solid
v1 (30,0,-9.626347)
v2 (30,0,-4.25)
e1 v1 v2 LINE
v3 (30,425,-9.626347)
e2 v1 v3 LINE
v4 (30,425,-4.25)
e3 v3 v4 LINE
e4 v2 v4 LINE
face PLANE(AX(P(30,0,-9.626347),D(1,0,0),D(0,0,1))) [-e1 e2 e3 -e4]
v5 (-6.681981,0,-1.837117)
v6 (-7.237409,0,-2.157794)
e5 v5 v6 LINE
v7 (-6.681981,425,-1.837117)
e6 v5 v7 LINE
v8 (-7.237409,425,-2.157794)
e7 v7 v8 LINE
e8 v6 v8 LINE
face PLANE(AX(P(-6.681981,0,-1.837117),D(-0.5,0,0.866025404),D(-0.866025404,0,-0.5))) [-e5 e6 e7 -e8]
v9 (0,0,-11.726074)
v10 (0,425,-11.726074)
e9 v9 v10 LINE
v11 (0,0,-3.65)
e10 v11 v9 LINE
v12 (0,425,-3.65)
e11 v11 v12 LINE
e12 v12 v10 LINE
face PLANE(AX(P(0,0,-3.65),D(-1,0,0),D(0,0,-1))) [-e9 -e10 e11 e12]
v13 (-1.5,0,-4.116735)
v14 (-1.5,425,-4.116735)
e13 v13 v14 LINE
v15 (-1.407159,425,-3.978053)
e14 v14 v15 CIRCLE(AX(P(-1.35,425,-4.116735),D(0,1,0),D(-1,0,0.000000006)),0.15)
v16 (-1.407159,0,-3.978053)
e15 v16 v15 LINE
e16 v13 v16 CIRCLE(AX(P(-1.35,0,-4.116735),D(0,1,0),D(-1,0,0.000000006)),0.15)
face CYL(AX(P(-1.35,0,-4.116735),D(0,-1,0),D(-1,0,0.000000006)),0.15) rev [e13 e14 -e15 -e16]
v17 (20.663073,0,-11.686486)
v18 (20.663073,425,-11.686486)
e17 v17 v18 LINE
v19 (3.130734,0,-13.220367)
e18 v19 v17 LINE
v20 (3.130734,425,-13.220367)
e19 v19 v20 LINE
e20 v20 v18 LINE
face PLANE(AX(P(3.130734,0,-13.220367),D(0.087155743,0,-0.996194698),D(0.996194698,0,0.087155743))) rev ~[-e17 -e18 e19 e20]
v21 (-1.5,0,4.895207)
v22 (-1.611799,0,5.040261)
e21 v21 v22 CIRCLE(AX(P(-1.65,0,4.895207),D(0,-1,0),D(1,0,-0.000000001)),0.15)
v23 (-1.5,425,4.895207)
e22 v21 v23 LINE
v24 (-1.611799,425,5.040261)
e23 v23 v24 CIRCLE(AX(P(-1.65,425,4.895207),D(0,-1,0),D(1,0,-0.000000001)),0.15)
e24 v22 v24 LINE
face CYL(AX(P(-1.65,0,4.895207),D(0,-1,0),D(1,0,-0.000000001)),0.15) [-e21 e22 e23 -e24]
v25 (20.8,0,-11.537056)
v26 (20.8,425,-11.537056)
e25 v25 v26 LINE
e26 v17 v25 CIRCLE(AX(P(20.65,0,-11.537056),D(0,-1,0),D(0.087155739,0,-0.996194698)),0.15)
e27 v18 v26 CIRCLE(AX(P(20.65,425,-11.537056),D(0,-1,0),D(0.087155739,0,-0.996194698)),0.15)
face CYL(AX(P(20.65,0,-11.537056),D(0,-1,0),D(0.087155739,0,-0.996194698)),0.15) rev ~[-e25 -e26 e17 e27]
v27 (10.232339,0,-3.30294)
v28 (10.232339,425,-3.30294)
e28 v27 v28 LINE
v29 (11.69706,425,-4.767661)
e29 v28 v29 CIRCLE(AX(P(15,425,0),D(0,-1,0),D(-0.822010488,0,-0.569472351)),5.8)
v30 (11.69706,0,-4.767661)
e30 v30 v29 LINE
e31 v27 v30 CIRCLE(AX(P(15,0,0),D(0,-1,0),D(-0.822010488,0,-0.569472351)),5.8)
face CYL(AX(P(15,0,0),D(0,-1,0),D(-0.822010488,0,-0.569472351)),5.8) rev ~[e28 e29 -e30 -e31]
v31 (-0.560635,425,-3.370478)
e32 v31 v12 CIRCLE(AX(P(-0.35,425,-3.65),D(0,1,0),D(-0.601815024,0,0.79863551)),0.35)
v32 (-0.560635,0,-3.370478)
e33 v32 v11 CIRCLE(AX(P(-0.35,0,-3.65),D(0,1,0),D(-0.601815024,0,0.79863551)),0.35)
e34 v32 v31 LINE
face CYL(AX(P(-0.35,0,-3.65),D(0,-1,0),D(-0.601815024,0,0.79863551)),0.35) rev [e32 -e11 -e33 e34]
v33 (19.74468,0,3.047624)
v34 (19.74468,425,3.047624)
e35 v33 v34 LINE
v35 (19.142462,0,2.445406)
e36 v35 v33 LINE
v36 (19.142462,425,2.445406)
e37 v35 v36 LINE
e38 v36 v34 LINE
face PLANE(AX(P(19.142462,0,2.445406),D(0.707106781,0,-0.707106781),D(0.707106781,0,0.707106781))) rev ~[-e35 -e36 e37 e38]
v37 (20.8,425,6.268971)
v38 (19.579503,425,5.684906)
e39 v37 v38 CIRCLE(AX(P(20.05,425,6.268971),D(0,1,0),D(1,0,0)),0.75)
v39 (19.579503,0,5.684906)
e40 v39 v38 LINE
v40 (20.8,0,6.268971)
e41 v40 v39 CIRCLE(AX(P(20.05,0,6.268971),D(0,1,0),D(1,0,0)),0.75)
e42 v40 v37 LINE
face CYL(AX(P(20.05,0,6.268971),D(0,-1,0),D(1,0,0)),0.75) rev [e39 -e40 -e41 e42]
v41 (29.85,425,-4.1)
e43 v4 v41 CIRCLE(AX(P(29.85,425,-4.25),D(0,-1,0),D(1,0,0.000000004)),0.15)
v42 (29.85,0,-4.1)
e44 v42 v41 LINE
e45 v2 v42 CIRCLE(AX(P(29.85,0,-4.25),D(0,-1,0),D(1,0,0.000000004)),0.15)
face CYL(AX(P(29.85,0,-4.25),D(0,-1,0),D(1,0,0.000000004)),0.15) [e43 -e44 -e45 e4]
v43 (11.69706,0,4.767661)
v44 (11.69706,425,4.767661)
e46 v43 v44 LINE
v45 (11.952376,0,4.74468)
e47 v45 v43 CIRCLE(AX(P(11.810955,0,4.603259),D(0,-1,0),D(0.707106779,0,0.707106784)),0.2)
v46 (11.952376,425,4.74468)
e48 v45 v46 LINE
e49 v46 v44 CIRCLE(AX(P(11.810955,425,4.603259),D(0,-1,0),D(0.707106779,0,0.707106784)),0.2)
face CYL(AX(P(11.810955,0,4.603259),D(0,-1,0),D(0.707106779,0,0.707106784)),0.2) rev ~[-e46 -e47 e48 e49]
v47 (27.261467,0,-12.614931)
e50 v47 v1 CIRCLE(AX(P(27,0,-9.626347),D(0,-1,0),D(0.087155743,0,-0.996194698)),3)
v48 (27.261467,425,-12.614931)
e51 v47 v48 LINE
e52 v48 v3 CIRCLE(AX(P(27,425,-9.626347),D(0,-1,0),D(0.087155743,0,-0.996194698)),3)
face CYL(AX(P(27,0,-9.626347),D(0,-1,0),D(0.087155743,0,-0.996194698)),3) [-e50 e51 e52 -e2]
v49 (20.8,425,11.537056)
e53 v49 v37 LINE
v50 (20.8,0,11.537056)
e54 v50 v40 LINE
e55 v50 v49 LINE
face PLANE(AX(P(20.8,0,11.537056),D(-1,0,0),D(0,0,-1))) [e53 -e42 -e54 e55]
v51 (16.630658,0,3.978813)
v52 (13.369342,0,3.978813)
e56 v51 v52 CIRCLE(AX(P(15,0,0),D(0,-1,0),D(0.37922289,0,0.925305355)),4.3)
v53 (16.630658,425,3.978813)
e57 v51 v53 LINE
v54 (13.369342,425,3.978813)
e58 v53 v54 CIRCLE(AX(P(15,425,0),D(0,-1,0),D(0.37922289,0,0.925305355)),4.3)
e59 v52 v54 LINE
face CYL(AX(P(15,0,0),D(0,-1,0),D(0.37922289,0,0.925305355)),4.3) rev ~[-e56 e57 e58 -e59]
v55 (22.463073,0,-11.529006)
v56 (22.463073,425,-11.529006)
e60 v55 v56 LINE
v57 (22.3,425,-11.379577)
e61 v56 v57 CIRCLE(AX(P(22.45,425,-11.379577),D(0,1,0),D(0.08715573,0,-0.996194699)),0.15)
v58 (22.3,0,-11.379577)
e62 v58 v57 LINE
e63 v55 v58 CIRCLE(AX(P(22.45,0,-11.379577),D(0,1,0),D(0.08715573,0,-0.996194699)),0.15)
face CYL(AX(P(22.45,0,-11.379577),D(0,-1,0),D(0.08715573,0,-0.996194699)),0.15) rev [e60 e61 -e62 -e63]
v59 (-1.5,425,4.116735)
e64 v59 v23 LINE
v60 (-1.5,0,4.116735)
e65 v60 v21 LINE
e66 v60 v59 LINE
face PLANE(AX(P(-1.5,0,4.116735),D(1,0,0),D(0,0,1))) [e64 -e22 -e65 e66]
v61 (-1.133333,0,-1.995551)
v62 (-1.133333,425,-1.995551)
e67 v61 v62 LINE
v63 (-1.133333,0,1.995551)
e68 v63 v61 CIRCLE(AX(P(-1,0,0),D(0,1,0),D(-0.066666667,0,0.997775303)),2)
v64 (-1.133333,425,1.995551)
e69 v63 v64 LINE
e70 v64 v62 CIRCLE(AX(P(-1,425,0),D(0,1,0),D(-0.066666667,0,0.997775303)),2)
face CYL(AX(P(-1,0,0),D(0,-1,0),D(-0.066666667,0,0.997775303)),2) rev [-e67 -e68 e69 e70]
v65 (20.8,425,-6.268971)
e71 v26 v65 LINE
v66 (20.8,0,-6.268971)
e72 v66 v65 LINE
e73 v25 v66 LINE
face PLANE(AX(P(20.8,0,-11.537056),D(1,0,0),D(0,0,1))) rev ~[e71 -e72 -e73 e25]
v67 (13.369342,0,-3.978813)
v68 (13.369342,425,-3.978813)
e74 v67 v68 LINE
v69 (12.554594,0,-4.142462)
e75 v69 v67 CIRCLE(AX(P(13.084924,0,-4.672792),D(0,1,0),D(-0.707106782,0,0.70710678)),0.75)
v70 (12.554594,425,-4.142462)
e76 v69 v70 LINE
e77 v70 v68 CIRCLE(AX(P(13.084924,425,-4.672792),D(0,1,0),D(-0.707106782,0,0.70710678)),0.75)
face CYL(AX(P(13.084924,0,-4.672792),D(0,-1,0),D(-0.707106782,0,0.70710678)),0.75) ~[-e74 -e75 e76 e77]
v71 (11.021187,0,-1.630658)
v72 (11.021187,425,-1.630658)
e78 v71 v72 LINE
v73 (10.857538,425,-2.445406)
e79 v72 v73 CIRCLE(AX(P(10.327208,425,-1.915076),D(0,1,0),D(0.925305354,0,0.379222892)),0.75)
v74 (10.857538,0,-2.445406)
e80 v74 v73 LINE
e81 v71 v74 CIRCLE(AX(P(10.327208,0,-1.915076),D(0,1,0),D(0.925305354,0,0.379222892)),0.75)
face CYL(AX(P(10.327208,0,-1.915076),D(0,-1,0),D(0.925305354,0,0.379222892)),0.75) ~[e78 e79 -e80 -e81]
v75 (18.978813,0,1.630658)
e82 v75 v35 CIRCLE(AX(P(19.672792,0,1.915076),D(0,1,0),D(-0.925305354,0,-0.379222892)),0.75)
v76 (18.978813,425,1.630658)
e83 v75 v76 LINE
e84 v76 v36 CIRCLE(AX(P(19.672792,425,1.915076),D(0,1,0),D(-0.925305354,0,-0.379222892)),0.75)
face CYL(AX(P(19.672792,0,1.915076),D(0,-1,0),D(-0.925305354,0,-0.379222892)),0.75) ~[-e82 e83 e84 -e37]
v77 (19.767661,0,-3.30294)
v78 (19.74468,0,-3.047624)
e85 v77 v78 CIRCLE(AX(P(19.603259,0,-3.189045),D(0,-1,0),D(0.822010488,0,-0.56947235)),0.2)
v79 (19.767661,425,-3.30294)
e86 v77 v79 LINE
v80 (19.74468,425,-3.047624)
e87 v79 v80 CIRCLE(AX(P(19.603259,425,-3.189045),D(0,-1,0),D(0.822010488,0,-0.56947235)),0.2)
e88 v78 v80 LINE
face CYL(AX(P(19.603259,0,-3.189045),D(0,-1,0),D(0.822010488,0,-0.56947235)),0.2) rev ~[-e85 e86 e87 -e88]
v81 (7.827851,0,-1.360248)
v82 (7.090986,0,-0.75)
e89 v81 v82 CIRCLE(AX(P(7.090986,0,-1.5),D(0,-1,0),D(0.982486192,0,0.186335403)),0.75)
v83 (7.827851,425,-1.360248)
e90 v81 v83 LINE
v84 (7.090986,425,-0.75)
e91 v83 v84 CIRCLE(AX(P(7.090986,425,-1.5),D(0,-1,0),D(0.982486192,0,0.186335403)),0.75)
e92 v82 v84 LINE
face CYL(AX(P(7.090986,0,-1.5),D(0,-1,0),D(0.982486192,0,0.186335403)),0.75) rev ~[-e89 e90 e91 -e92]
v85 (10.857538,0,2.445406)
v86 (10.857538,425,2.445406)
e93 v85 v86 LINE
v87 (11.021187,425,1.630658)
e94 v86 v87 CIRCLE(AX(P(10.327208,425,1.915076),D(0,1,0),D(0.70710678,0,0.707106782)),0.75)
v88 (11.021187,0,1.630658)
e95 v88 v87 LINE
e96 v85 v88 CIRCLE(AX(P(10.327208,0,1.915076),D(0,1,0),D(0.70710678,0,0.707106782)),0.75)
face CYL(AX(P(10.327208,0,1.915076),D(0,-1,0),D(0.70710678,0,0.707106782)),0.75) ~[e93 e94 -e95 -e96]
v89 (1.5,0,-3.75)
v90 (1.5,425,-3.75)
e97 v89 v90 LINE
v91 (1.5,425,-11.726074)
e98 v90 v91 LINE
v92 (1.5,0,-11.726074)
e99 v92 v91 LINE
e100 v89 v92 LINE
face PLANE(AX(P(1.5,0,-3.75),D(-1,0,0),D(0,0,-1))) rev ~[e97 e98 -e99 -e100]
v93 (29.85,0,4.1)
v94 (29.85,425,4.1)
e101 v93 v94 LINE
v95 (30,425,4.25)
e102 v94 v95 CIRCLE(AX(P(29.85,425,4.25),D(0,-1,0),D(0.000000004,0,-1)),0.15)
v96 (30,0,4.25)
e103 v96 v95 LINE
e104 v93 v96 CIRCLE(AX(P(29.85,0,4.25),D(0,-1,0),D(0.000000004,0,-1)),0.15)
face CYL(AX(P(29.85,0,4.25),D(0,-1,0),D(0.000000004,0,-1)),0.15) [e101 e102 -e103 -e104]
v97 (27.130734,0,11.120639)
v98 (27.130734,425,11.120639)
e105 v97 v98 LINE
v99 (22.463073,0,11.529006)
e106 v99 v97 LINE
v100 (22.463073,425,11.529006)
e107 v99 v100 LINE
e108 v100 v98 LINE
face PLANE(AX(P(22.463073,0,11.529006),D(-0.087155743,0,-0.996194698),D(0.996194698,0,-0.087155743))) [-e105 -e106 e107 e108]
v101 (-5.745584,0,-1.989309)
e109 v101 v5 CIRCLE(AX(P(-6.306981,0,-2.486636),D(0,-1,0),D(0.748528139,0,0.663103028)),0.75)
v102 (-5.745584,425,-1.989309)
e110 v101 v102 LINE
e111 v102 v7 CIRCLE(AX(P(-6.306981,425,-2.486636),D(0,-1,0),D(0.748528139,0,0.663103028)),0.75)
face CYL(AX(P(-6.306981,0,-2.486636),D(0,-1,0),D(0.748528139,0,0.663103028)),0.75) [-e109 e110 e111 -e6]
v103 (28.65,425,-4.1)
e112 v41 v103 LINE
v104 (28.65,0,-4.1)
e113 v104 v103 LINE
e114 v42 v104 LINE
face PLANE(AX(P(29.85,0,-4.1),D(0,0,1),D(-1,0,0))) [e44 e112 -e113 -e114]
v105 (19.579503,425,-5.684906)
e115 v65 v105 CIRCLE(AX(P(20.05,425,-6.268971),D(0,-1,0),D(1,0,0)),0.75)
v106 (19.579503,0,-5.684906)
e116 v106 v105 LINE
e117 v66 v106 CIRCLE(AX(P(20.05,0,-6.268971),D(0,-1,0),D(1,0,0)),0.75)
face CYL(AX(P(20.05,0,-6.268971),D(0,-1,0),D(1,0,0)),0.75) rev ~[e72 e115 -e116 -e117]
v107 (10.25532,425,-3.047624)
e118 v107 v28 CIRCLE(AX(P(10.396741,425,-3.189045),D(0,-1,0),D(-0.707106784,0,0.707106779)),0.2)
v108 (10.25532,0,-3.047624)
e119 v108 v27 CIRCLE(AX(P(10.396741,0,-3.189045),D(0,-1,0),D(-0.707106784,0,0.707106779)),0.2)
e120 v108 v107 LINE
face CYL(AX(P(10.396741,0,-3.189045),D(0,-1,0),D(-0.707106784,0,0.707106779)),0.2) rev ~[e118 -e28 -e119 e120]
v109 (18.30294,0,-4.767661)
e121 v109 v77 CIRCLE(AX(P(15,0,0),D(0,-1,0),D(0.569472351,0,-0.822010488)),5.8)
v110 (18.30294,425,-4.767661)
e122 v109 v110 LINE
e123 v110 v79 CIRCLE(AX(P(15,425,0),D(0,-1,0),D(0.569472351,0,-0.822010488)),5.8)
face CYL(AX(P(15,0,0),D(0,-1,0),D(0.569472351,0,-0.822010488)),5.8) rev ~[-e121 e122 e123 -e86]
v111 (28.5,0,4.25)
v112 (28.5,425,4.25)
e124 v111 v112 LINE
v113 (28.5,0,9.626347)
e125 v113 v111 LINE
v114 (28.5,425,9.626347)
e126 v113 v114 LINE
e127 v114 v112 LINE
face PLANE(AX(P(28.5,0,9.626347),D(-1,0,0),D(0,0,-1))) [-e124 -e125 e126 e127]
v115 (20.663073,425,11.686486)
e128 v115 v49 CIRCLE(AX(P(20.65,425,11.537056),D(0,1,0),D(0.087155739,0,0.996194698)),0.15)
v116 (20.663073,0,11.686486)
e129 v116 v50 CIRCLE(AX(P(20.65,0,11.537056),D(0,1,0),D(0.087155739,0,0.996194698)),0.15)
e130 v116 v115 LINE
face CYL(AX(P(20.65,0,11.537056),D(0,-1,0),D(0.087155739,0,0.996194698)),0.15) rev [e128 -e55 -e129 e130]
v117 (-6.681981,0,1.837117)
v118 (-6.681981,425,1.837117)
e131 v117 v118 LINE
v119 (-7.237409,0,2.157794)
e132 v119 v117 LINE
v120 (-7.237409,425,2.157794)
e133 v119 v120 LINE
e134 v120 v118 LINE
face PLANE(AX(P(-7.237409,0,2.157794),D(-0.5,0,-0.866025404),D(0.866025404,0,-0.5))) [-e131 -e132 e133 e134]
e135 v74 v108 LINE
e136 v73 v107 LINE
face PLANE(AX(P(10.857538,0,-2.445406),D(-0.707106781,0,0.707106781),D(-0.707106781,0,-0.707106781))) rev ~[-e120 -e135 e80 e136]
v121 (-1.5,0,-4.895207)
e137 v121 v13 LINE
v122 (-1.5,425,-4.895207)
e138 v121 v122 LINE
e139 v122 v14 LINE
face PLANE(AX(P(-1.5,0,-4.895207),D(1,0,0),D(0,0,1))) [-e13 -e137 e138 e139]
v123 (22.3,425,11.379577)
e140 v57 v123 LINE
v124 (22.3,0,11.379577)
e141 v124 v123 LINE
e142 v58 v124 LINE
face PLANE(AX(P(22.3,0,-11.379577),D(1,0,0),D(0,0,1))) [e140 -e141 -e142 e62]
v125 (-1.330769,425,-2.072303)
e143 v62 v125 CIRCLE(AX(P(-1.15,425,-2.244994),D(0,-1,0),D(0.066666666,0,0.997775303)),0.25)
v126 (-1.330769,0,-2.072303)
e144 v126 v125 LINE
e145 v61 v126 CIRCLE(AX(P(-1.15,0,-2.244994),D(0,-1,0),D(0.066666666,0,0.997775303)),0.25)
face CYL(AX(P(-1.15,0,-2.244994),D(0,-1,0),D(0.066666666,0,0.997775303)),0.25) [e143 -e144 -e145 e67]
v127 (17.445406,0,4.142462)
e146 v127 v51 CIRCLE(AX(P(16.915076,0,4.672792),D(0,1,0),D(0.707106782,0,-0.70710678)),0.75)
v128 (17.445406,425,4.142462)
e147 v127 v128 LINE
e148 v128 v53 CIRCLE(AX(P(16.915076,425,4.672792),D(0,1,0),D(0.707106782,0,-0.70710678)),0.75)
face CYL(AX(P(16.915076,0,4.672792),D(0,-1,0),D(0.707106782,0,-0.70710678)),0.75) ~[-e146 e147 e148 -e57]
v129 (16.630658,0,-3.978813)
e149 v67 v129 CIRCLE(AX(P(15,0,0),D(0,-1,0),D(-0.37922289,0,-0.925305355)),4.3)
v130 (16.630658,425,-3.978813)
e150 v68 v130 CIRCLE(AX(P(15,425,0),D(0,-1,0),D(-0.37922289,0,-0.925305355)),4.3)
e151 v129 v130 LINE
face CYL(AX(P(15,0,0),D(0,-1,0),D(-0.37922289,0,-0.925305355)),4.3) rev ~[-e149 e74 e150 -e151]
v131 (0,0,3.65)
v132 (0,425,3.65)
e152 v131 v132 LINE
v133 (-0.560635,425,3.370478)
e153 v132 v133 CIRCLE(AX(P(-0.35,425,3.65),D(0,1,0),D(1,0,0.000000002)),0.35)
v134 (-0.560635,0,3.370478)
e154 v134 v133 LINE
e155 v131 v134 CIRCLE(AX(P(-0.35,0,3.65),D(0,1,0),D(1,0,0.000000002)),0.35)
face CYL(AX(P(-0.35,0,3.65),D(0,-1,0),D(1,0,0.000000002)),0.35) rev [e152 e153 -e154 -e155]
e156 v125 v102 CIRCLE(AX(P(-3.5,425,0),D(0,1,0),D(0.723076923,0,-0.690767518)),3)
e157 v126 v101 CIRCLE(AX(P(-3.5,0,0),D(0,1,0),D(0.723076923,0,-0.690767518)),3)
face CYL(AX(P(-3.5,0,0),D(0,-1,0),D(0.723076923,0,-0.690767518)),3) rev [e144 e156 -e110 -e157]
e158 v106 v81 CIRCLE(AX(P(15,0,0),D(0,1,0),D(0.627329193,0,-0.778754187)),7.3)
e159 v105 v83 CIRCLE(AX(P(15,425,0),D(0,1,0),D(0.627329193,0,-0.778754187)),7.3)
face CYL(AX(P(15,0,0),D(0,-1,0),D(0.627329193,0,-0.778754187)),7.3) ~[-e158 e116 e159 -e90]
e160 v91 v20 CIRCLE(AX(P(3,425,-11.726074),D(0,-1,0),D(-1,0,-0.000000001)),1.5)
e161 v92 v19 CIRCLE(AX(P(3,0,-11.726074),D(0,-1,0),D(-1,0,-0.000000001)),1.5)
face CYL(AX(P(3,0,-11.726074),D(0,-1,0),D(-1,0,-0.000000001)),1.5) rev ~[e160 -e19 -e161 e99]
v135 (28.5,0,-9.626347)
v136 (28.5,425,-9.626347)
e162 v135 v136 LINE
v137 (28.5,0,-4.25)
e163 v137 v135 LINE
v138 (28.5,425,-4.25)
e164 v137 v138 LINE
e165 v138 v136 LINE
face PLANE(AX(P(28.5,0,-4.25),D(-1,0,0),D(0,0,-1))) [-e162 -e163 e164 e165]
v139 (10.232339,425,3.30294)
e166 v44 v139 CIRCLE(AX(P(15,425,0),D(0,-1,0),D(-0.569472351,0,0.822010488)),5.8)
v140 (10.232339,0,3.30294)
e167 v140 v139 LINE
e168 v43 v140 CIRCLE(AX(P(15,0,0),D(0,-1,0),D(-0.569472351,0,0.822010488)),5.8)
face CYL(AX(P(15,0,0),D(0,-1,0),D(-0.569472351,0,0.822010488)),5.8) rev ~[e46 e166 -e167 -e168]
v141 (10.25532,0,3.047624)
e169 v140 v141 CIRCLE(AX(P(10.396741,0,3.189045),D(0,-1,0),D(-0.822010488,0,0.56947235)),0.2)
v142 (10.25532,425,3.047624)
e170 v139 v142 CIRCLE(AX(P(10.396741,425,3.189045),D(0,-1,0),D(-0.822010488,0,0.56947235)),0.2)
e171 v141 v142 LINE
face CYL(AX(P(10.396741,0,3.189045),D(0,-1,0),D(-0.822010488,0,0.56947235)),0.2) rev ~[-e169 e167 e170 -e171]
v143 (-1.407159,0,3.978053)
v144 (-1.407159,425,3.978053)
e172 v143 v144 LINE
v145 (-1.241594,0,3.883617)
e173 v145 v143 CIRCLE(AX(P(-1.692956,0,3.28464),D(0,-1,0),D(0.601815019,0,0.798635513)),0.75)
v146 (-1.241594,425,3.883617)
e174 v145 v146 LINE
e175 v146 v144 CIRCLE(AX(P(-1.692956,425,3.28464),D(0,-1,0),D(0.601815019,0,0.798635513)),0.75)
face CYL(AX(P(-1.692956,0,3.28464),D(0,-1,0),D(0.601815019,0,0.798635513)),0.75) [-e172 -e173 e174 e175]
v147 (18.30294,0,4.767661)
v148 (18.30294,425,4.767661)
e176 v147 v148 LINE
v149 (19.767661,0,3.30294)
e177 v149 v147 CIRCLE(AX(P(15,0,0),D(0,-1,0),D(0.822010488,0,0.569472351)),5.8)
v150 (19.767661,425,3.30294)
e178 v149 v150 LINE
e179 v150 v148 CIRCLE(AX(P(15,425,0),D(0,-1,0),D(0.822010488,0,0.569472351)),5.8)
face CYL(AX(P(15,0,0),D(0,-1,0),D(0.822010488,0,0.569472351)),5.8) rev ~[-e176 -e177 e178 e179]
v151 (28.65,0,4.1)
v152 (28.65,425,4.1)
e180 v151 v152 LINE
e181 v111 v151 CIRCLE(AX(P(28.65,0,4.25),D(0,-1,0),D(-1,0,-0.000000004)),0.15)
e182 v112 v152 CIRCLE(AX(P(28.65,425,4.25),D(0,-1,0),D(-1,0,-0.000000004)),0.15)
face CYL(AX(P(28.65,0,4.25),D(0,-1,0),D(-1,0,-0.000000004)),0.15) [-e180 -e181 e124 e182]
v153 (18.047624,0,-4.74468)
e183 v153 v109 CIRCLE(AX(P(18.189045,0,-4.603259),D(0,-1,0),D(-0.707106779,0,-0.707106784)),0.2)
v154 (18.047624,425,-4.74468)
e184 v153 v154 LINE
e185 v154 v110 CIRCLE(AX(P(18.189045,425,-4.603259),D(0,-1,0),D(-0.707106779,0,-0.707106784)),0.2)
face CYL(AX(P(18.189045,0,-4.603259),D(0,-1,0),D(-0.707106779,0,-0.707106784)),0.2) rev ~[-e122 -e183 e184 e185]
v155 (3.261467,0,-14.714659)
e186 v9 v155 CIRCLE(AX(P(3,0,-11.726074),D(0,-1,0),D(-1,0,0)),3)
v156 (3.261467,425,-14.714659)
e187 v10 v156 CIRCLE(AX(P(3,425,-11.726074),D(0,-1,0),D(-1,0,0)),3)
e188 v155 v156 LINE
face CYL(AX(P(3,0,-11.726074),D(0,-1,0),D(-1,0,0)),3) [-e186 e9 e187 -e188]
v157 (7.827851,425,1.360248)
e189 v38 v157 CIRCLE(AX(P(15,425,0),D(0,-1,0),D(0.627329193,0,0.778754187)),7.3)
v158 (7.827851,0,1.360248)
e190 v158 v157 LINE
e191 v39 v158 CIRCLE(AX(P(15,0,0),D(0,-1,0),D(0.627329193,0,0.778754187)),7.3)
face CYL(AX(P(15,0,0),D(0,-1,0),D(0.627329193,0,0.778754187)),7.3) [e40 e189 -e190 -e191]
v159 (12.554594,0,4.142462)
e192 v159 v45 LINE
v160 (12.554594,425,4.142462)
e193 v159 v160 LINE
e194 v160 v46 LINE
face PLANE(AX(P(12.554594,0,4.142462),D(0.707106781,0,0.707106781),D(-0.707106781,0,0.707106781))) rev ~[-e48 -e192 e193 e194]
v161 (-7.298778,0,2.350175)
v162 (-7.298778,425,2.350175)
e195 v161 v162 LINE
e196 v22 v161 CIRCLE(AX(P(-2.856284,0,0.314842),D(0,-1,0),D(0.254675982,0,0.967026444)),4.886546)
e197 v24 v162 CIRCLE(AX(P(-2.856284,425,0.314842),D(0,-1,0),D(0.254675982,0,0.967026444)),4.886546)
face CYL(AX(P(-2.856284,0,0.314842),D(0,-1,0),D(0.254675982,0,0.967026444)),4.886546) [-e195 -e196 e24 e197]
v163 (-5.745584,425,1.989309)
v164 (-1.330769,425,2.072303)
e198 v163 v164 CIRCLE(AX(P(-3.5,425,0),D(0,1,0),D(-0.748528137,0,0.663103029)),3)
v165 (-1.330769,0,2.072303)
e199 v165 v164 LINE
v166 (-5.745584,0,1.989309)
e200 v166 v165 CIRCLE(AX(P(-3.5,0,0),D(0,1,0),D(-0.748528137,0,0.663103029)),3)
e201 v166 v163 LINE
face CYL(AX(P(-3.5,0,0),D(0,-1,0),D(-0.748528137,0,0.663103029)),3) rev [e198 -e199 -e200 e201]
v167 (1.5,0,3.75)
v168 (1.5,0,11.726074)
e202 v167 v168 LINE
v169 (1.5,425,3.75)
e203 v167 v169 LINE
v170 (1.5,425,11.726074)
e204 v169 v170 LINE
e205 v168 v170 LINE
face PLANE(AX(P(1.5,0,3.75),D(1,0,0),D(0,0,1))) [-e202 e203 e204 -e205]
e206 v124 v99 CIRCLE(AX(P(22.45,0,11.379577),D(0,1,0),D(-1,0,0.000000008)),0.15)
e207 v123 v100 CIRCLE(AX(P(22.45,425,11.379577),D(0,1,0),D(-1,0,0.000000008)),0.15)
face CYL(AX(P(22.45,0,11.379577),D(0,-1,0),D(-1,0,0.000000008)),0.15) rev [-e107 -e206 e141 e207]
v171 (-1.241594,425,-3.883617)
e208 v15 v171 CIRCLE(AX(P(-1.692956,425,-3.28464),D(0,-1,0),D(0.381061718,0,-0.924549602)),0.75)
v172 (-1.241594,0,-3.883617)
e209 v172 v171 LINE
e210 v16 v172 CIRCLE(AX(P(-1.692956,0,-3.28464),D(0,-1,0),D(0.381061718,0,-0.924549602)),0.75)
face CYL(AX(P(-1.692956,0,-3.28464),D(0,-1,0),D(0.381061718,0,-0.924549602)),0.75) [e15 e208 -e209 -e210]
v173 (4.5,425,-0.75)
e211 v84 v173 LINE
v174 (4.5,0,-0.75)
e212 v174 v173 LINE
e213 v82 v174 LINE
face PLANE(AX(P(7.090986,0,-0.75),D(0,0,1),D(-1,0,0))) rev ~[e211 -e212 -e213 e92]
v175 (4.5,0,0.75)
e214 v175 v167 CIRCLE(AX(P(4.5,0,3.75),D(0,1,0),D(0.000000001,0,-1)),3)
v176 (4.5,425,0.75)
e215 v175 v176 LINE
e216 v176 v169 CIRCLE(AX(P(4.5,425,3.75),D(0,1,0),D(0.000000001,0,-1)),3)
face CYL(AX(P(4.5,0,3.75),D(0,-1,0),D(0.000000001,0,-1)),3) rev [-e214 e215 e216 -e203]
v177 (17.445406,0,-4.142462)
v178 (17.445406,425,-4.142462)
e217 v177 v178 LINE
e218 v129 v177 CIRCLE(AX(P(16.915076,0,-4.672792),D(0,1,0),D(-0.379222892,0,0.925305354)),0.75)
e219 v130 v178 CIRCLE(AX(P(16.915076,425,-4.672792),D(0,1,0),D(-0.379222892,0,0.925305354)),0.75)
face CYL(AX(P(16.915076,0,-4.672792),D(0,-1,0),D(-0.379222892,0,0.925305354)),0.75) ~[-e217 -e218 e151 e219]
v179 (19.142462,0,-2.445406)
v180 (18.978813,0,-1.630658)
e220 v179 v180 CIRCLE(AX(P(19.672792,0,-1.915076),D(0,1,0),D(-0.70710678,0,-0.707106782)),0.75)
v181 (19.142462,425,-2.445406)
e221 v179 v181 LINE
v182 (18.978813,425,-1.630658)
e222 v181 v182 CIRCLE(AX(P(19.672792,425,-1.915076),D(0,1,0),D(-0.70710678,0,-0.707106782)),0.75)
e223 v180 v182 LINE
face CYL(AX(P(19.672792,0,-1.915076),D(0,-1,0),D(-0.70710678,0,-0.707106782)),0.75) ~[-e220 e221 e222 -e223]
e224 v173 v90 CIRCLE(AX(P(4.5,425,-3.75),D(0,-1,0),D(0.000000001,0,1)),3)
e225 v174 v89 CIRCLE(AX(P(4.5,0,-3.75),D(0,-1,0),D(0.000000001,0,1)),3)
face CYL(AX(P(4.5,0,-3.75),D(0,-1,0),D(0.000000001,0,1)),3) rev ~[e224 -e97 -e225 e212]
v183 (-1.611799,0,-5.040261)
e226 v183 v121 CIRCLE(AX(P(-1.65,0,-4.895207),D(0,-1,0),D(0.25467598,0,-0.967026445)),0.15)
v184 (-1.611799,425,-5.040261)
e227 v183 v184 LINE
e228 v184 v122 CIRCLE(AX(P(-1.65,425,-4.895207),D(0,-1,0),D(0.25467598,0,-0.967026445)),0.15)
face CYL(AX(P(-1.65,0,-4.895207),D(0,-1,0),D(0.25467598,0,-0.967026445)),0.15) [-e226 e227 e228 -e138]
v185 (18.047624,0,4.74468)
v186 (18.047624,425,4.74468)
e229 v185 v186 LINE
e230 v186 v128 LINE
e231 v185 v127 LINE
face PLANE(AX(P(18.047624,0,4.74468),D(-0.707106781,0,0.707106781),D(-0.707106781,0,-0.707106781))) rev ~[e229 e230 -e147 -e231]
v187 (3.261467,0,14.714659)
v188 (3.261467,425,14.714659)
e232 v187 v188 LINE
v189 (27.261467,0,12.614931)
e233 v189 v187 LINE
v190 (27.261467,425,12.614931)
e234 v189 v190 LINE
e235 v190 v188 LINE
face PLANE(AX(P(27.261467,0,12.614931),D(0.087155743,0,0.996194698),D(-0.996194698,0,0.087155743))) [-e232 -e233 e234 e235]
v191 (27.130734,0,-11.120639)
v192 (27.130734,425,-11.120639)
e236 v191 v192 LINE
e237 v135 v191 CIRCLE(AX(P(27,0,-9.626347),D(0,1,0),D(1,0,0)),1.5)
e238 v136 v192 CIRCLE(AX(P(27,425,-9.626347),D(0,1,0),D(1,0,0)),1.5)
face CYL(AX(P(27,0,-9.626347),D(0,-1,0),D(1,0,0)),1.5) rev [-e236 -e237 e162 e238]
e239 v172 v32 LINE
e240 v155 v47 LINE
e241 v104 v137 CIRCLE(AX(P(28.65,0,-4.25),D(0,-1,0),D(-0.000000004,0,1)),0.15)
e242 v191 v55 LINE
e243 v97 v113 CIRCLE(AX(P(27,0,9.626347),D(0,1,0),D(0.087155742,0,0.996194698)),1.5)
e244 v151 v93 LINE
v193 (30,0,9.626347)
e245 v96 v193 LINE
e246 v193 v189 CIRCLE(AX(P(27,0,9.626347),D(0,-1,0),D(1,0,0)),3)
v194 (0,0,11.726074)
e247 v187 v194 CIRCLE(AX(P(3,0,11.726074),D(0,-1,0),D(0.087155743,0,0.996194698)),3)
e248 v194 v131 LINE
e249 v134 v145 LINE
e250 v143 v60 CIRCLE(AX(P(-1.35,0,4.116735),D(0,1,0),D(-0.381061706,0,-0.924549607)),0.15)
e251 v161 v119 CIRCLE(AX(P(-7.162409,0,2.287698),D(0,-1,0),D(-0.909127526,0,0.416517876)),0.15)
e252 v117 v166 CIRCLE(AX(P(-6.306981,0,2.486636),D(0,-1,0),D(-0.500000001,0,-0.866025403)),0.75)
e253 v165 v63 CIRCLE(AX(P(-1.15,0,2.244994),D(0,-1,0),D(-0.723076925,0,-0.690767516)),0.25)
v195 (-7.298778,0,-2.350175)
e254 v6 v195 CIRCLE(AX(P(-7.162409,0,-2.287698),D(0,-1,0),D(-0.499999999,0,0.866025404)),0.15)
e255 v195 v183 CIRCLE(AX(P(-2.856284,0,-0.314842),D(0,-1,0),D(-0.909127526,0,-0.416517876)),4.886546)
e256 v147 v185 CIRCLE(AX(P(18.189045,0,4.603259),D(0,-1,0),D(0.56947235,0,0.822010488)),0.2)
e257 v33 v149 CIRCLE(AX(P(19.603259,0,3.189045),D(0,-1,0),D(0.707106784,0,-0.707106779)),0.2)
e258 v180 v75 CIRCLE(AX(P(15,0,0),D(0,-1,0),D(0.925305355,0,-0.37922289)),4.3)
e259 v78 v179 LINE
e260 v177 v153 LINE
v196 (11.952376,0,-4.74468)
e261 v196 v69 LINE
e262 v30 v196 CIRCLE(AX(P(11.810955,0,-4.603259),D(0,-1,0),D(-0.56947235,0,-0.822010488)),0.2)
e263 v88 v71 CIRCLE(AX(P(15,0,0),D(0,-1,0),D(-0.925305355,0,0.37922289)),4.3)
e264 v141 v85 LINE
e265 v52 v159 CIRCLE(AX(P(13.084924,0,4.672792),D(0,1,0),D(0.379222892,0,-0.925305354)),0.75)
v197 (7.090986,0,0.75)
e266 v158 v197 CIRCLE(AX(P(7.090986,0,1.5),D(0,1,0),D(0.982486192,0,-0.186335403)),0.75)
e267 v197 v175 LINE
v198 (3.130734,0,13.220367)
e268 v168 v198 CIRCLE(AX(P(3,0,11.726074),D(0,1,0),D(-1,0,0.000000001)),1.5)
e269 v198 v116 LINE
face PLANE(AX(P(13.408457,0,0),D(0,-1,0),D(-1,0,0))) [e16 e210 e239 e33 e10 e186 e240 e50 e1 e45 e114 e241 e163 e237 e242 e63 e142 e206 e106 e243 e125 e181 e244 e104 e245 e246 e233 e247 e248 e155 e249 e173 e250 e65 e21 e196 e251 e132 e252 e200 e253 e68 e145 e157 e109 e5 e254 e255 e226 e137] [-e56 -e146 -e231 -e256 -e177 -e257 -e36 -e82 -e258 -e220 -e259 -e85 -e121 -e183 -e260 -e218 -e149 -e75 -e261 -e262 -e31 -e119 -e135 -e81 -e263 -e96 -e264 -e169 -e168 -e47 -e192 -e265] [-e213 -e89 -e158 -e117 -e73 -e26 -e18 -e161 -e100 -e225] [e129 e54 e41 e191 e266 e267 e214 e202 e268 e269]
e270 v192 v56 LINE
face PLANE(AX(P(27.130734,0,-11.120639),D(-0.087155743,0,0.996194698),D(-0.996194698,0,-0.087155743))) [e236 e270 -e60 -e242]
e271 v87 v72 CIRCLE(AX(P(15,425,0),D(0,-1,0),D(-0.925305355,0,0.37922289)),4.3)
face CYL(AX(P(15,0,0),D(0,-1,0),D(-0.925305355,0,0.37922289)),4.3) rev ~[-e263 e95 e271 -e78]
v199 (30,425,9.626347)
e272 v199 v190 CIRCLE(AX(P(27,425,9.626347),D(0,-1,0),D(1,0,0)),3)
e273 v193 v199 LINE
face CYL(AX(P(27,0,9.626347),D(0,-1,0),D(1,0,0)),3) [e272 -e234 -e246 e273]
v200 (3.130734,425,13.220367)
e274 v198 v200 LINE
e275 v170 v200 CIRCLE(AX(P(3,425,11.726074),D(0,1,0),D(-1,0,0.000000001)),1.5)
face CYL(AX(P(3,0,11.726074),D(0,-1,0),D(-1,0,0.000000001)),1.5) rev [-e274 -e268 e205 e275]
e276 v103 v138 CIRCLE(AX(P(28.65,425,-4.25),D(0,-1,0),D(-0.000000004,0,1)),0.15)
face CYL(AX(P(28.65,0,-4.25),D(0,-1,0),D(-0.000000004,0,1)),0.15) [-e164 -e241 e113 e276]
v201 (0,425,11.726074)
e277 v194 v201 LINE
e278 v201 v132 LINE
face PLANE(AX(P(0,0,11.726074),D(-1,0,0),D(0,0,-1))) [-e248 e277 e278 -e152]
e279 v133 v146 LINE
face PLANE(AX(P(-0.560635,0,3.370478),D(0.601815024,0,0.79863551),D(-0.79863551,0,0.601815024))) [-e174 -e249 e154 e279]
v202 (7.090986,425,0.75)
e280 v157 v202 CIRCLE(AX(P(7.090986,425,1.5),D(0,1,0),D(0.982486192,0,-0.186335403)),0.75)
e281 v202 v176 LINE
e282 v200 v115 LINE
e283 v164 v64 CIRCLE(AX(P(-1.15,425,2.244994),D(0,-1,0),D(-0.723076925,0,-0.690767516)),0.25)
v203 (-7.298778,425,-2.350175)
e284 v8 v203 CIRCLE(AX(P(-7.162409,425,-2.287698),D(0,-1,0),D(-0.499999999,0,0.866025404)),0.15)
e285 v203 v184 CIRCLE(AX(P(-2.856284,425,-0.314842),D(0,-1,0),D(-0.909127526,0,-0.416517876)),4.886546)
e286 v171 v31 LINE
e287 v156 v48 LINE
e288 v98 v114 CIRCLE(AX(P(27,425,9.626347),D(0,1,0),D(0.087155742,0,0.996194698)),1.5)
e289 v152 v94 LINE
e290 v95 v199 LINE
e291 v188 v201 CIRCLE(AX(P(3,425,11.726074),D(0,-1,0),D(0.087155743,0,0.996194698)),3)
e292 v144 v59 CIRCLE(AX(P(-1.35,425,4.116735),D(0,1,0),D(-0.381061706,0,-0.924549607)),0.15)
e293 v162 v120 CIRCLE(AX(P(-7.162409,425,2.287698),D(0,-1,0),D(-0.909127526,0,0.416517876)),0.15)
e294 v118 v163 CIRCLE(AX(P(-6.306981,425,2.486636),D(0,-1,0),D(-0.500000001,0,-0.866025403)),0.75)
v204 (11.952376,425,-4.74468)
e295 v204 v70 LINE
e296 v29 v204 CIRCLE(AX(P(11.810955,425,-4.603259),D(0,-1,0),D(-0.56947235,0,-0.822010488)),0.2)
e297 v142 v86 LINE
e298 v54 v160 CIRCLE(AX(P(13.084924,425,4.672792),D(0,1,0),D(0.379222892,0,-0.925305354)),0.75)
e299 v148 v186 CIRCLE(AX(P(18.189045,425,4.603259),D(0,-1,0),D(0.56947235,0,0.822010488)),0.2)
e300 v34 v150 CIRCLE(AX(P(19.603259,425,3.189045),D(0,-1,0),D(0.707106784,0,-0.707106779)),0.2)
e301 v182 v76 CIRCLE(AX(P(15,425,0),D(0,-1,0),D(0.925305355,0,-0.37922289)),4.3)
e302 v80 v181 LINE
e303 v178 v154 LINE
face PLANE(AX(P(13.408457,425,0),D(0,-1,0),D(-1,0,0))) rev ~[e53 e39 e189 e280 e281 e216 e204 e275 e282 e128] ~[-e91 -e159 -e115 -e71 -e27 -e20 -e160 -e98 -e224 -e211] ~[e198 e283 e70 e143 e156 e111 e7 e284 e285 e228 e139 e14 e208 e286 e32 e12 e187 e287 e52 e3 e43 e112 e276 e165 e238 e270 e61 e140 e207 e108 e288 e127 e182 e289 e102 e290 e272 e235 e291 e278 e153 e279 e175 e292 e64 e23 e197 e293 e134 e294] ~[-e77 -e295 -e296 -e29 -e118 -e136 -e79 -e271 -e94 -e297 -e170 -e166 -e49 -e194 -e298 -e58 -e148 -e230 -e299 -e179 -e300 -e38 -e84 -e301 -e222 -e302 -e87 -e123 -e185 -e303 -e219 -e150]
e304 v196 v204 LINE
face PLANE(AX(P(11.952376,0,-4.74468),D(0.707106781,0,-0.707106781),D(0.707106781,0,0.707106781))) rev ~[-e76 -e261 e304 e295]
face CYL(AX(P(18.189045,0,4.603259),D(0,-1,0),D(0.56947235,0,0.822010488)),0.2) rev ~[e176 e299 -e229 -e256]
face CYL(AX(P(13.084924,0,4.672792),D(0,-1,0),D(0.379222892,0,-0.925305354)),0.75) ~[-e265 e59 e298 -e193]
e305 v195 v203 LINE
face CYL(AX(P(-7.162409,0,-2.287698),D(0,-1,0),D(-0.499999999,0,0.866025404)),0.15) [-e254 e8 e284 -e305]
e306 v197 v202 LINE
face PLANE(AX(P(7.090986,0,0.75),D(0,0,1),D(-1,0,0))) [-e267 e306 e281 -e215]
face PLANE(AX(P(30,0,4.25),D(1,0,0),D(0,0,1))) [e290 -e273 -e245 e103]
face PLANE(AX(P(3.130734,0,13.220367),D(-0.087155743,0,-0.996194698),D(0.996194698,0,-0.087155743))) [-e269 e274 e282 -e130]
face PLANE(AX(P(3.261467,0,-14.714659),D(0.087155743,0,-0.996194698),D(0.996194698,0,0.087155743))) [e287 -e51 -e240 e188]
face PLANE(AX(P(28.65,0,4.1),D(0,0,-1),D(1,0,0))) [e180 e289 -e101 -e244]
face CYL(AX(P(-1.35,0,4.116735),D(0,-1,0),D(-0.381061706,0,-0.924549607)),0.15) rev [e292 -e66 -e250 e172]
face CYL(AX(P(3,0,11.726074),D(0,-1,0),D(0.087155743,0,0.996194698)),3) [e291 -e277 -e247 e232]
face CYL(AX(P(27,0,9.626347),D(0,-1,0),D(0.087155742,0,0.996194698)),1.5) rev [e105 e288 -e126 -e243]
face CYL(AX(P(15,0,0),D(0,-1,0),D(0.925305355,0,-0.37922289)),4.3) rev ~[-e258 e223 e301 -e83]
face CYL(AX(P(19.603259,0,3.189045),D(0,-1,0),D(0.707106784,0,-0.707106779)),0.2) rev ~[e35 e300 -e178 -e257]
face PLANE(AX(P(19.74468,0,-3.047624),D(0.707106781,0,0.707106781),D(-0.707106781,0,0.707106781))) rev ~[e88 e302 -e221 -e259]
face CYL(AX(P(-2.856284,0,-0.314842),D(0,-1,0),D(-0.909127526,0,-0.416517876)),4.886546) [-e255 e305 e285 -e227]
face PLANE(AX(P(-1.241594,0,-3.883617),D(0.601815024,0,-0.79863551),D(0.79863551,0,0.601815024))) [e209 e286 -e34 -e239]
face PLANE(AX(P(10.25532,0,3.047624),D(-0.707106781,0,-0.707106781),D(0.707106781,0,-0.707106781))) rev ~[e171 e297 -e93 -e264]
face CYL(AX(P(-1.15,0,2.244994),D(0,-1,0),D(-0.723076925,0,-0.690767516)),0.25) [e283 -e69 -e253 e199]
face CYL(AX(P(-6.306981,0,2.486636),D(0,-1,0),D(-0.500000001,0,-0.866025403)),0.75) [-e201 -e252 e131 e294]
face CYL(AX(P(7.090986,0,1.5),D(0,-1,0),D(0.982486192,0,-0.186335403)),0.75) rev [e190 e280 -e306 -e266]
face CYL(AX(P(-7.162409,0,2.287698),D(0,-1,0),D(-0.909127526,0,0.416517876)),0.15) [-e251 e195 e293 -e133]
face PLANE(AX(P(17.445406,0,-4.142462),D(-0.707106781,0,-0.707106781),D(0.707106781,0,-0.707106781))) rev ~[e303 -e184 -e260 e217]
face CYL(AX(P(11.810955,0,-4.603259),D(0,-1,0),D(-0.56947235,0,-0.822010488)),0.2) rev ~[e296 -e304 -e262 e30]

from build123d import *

# Parameters (mm, degrees)
BOSS_EXTRUDE1_DEPTH = 425


with BuildPart() as part:
    # Sketch1 → Boss-Extrude1 (new body)
    with BuildSketch(Plane(origin=(0, 0, 0), x_dir=(1, 0, 0), z_dir=(0, 1, 0))):
        with BuildLine():
            Line((0, 3.65), (0, 11.726074497))
            ThreePointArc((0, 11.726074497), (0.973229377, 13.937906507), (3.261467228, 14.714658591))
            Line((3.261467228, 14.714658591), (27.261467228, 12.614930666))
            ThreePointArc((27.261467228, 12.614930666), (29.21183201, 11.653117195), (30, 9.626346572))
            Line((30, 9.626346572), (30, 4.25))
            ThreePointArc((30, 4.25), (29.956066017, 4.143933983), (29.85, 4.1))
            Line((29.85, 4.1), (28.65, 4.1))
            ThreePointArc((28.65, 4.1), (28.543933983, 4.143933983), (28.5, 4.25))
            Line((28.5, 4.25), (28.5, 9.626346572))
            ThreePointArc((28.5, 9.626346572), (28.105916005, 10.639731884), (27.130733614, 11.120638619))
            Line((27.130733614, 11.120638619), (22.463073361, 11.529005977))
            ThreePointArc((22.463073361, 11.529005977), (22.348661469, 11.490168372), (22.3, 11.379576772))
            Line((22.3, 11.379576772), (22.3, -11.379576772))
            ThreePointArc((22.3, -11.379576772), (22.348661469, -11.490168372), (22.463073361, -11.529005977))
            Line((22.463073361, -11.529005977), (27.130733614, -11.120638619))
            ThreePointArc((27.130733614, -11.120638619), (28.105916005, -10.639731884), (28.5, -9.626346572))
            Line((28.5, -9.626346572), (28.5, -4.25))
            ThreePointArc((28.5, -4.25), (28.543933983, -4.143933983), (28.65, -4.1))
            Line((28.65, -4.1), (29.85, -4.1))
            ThreePointArc((29.85, -4.1), (29.956066017, -4.143933983), (30, -4.25))
            Line((30, -4.25), (30, -9.626346572))
            ThreePointArc((30, -9.626346572), (29.21183201, -11.653117195), (27.261467228, -12.614930666))
            Line((27.261467228, -12.614930666), (3.261467228, -14.714658591))
            ThreePointArc((3.261467228, -14.714658591), (0.973229377, -13.937906507), (0, -11.726074497))
            Line((0, -11.726074497), (0, -3.65))
            ThreePointArc((0, -3.65), (-0.193830765, -3.336772973), (-0.560635258, -3.370477571))
            Line((-0.560635258, -3.370477571), (-1.241594271, -3.883616994))
            ThreePointArc((-1.241594271, -3.883616994), (-1.321364591, -3.936115739), (-1.407159256, -3.978052566))
            ThreePointArc((-1.407159256, -3.978052566), (-1.474647279, -4.03329008), (-1.5, -4.116735006))
            Line((-1.5, -4.116735006), (-1.5, -4.895206856))
            ThreePointArc((-1.5, -4.895206856), (-1.531192993, -4.986775929), (-1.611798603, -5.040260823))
            ThreePointArc((-1.611798603, -5.040260823), (-4.945770747, -4.732123456), (-7.298777867, -2.350175433))
            ThreePointArc((-7.298777867, -2.350175433), (-7.305313905, -2.242111424), (-7.237408738, -2.157793941))
            Line((-7.237408738, -2.157793941), (-6.681980515, -1.837117307))
            ThreePointArc((-6.681980515, -1.837117307), (-6.186662348, -1.74635024), (-5.745584412, -1.989309088))
            ThreePointArc((-5.745584412, -1.989309088), (-3.556386599, -2.999470045), (-1.330769231, -2.072302553))
            ThreePointArc((-1.330769231, -2.072302553), (-1.240582163, -2.011981832), (-1.133333333, -1.995550606))
            ThreePointArc((-1.133333333, -1.995550606), (1, 0), (-1.133333333, 1.995550606))
            ThreePointArc((-1.133333333, 1.995550606), (-1.240582163, 2.011981832), (-1.330769231, 2.072302553))
            ThreePointArc((-1.330769231, 2.072302553), (-3.556386599, 2.999470045), (-5.745584412, 1.989309088))
            ThreePointArc((-5.745584412, 1.989309088), (-6.186662348, 1.74635024), (-6.681980515, 1.837117307))
            Line((-6.681980515, 1.837117307), (-7.237408738, 2.157793941))
            ThreePointArc((-7.237408738, 2.157793941), (-7.305313905, 2.242111424), (-7.298777867, 2.350175433))
            ThreePointArc((-7.298777867, 2.350175433), (-4.945770747, 4.732123456), (-1.611798603, 5.040260823))
            ThreePointArc((-1.611798603, 5.040260823), (-1.531192993, 4.986775929), (-1.5, 4.895206856))
            Line((-1.5, 4.895206856), (-1.5, 4.116735006))
            ThreePointArc((-1.5, 4.116735006), (-1.474647279, 4.03329008), (-1.407159256, 3.978052566))
            ThreePointArc((-1.407159256, 3.978052566), (-1.321364591, 3.936115739), (-1.241594271, 3.883616994))
            Line((-1.241594271, 3.883616994), (-0.560635258, 3.370477571))
            ThreePointArc((-0.560635258, 3.370477571), (-0.193830765, 3.336772973), (0, 3.65))
        make_face()
        with BuildLine():
            Line((1.5, 3.75), (1.5, 11.726074497))
            ThreePointArc((1.5, 11.726074497), (1.986614689, 12.831990502), (3.130733614, 13.220366544))
            Line((3.130733614, 13.220366544), (20.663073361, 11.686485571))
            ThreePointArc((20.663073361, 11.686485571), (20.760591601, 11.638394897), (20.8, 11.537056366))
            Line((20.8, 11.537056366), (20.8, 6.268971207))
            ThreePointArc((20.8, 6.268971207), (20.373749385, 5.592446015), (19.579503106, 5.684905567))
            ThreePointArc((19.579503106, 5.684905567), (12.478865683, 6.850830735), (7.827850799, 1.360248447))
            ThreePointArc((7.827850799, 1.360248447), (7.569361706, 0.92236964), (7.090986155, 0.75))
            Line((7.090986155, 0.75), (4.5, 0.75))
            ThreePointArc((4.5, 0.75), (2.378679656, 1.628679656), (1.5, 3.75))
        make_face(mode=Mode.SUBTRACT)
        with BuildLine():
            Line((3.130733614, -13.220366544), (20.663073361, -11.686485571))
            ThreePointArc((20.663073361, -11.686485571), (20.760591601, -11.638394897), (20.8, -11.537056366))
            Line((20.8, -11.537056366), (20.8, -6.268971207))
            ThreePointArc((20.8, -6.268971207), (20.373749385, -5.592446015), (19.579503106, -5.684905567))
            ThreePointArc((19.579503106, -5.684905567), (12.478865683, -6.850830735), (7.827850799, -1.360248447))
            ThreePointArc((7.827850799, -1.360248447), (7.569361706, -0.92236964), (7.090986155, -0.75))
            Line((7.090986155, -0.75), (4.5, -0.75))
            ThreePointArc((4.5, -0.75), (2.378679656, -1.628679656), (1.5, -3.75))
            Line((1.5, -3.75), (1.5, -11.726074497))
            ThreePointArc((1.5, -11.726074497), (1.986614689, -12.831990502), (3.130733614, -13.220366544))
        make_face(mode=Mode.SUBTRACT)
        with BuildLine():
            Line((11.95237619, 4.744680085), (12.554594319, 4.142461956))
            ThreePointArc((12.554594319, 4.142461956), (12.93723035, 3.937478186), (13.369341573, 3.978813026))
            ThreePointArc((13.369341573, 3.978813026), (15, 4.3), (16.630658427, 3.978813026))
            ThreePointArc((16.630658427, 3.978813026), (17.06276965, 3.937478186), (17.445405681, 4.142461956))
            Line((17.445405681, 4.142461956), (18.04762381, 4.744680085))
            ThreePointArc((18.04762381, 4.744680085), (18.171115834, 4.802453455), (18.302939637, 4.767660826))
            ThreePointArc((18.302939637, 4.767660826), (19.101219331, 4.101219331), (19.767660826, 3.302939637))
            ThreePointArc((19.767660826, 3.302939637), (19.802453455, 3.171115834), (19.744680085, 3.04762381))
            Line((19.744680085, 3.04762381), (19.142461956, 2.445405681))
            ThreePointArc((19.142461956, 2.445405681), (18.937478186, 2.06276965), (18.978813026, 1.630658427))
            ThreePointArc((18.978813026, 1.630658427), (19.3, 0), (18.978813026, -1.630658427))
            ThreePointArc((18.978813026, -1.630658427), (18.937478186, -2.06276965), (19.142461956, -2.445405681))
            Line((19.142461956, -2.445405681), (19.744680085, -3.04762381))
            ThreePointArc((19.744680085, -3.04762381), (19.802453455, -3.171115834), (19.767660826, -3.302939637))
            ThreePointArc((19.767660826, -3.302939637), (19.101219331, -4.101219331), (18.302939637, -4.767660826))
            ThreePointArc((18.302939637, -4.767660826), (18.171115834, -4.802453455), (18.04762381, -4.744680085))
            Line((18.04762381, -4.744680085), (17.445405681, -4.142461956))
            ThreePointArc((17.445405681, -4.142461956), (17.06276965, -3.937478186), (16.630658427, -3.978813026))
            ThreePointArc((16.630658427, -3.978813026), (15, -4.3), (13.369341573, -3.978813026))
            ThreePointArc((13.369341573, -3.978813026), (12.93723035, -3.937478186), (12.554594319, -4.142461956))
            Line((12.554594319, -4.142461956), (11.95237619, -4.744680085))
            ThreePointArc((11.95237619, -4.744680085), (11.828884166, -4.802453455), (11.697060363, -4.767660826))
            ThreePointArc((11.697060363, -4.767660826), (10.898780669, -4.101219331), (10.232339174, -3.302939637))
            ThreePointArc((10.232339174, -3.302939637), (10.197546545, -3.171115834), (10.255319915, -3.04762381))
            Line((10.255319915, -3.04762381), (10.857538044, -2.445405681))
            ThreePointArc((10.857538044, -2.445405681), (11.062521814, -2.06276965), (11.021186974, -1.630658427))
            ThreePointArc((11.021186974, -1.630658427), (10.7, 0), (11.021186974, 1.630658427))
            ThreePointArc((11.021186974, 1.630658427), (11.062521814, 2.06276965), (10.857538044, 2.445405681))
            Line((10.857538044, 2.445405681), (10.255319915, 3.04762381))
            ThreePointArc((10.255319915, 3.04762381), (10.197546545, 3.171115834), (10.232339174, 3.302939637))
            ThreePointArc((10.232339174, 3.302939637), (10.898780669, 4.101219331), (11.697060363, 4.767660826))
            ThreePointArc((11.697060363, 4.767660826), (11.828884166, 4.802453455), (11.95237619, 4.744680085))
        make_face(mode=Mode.SUBTRACT)
    extrude(amount=BOSS_EXTRUDE1_DEPTH)


solid = part.part
